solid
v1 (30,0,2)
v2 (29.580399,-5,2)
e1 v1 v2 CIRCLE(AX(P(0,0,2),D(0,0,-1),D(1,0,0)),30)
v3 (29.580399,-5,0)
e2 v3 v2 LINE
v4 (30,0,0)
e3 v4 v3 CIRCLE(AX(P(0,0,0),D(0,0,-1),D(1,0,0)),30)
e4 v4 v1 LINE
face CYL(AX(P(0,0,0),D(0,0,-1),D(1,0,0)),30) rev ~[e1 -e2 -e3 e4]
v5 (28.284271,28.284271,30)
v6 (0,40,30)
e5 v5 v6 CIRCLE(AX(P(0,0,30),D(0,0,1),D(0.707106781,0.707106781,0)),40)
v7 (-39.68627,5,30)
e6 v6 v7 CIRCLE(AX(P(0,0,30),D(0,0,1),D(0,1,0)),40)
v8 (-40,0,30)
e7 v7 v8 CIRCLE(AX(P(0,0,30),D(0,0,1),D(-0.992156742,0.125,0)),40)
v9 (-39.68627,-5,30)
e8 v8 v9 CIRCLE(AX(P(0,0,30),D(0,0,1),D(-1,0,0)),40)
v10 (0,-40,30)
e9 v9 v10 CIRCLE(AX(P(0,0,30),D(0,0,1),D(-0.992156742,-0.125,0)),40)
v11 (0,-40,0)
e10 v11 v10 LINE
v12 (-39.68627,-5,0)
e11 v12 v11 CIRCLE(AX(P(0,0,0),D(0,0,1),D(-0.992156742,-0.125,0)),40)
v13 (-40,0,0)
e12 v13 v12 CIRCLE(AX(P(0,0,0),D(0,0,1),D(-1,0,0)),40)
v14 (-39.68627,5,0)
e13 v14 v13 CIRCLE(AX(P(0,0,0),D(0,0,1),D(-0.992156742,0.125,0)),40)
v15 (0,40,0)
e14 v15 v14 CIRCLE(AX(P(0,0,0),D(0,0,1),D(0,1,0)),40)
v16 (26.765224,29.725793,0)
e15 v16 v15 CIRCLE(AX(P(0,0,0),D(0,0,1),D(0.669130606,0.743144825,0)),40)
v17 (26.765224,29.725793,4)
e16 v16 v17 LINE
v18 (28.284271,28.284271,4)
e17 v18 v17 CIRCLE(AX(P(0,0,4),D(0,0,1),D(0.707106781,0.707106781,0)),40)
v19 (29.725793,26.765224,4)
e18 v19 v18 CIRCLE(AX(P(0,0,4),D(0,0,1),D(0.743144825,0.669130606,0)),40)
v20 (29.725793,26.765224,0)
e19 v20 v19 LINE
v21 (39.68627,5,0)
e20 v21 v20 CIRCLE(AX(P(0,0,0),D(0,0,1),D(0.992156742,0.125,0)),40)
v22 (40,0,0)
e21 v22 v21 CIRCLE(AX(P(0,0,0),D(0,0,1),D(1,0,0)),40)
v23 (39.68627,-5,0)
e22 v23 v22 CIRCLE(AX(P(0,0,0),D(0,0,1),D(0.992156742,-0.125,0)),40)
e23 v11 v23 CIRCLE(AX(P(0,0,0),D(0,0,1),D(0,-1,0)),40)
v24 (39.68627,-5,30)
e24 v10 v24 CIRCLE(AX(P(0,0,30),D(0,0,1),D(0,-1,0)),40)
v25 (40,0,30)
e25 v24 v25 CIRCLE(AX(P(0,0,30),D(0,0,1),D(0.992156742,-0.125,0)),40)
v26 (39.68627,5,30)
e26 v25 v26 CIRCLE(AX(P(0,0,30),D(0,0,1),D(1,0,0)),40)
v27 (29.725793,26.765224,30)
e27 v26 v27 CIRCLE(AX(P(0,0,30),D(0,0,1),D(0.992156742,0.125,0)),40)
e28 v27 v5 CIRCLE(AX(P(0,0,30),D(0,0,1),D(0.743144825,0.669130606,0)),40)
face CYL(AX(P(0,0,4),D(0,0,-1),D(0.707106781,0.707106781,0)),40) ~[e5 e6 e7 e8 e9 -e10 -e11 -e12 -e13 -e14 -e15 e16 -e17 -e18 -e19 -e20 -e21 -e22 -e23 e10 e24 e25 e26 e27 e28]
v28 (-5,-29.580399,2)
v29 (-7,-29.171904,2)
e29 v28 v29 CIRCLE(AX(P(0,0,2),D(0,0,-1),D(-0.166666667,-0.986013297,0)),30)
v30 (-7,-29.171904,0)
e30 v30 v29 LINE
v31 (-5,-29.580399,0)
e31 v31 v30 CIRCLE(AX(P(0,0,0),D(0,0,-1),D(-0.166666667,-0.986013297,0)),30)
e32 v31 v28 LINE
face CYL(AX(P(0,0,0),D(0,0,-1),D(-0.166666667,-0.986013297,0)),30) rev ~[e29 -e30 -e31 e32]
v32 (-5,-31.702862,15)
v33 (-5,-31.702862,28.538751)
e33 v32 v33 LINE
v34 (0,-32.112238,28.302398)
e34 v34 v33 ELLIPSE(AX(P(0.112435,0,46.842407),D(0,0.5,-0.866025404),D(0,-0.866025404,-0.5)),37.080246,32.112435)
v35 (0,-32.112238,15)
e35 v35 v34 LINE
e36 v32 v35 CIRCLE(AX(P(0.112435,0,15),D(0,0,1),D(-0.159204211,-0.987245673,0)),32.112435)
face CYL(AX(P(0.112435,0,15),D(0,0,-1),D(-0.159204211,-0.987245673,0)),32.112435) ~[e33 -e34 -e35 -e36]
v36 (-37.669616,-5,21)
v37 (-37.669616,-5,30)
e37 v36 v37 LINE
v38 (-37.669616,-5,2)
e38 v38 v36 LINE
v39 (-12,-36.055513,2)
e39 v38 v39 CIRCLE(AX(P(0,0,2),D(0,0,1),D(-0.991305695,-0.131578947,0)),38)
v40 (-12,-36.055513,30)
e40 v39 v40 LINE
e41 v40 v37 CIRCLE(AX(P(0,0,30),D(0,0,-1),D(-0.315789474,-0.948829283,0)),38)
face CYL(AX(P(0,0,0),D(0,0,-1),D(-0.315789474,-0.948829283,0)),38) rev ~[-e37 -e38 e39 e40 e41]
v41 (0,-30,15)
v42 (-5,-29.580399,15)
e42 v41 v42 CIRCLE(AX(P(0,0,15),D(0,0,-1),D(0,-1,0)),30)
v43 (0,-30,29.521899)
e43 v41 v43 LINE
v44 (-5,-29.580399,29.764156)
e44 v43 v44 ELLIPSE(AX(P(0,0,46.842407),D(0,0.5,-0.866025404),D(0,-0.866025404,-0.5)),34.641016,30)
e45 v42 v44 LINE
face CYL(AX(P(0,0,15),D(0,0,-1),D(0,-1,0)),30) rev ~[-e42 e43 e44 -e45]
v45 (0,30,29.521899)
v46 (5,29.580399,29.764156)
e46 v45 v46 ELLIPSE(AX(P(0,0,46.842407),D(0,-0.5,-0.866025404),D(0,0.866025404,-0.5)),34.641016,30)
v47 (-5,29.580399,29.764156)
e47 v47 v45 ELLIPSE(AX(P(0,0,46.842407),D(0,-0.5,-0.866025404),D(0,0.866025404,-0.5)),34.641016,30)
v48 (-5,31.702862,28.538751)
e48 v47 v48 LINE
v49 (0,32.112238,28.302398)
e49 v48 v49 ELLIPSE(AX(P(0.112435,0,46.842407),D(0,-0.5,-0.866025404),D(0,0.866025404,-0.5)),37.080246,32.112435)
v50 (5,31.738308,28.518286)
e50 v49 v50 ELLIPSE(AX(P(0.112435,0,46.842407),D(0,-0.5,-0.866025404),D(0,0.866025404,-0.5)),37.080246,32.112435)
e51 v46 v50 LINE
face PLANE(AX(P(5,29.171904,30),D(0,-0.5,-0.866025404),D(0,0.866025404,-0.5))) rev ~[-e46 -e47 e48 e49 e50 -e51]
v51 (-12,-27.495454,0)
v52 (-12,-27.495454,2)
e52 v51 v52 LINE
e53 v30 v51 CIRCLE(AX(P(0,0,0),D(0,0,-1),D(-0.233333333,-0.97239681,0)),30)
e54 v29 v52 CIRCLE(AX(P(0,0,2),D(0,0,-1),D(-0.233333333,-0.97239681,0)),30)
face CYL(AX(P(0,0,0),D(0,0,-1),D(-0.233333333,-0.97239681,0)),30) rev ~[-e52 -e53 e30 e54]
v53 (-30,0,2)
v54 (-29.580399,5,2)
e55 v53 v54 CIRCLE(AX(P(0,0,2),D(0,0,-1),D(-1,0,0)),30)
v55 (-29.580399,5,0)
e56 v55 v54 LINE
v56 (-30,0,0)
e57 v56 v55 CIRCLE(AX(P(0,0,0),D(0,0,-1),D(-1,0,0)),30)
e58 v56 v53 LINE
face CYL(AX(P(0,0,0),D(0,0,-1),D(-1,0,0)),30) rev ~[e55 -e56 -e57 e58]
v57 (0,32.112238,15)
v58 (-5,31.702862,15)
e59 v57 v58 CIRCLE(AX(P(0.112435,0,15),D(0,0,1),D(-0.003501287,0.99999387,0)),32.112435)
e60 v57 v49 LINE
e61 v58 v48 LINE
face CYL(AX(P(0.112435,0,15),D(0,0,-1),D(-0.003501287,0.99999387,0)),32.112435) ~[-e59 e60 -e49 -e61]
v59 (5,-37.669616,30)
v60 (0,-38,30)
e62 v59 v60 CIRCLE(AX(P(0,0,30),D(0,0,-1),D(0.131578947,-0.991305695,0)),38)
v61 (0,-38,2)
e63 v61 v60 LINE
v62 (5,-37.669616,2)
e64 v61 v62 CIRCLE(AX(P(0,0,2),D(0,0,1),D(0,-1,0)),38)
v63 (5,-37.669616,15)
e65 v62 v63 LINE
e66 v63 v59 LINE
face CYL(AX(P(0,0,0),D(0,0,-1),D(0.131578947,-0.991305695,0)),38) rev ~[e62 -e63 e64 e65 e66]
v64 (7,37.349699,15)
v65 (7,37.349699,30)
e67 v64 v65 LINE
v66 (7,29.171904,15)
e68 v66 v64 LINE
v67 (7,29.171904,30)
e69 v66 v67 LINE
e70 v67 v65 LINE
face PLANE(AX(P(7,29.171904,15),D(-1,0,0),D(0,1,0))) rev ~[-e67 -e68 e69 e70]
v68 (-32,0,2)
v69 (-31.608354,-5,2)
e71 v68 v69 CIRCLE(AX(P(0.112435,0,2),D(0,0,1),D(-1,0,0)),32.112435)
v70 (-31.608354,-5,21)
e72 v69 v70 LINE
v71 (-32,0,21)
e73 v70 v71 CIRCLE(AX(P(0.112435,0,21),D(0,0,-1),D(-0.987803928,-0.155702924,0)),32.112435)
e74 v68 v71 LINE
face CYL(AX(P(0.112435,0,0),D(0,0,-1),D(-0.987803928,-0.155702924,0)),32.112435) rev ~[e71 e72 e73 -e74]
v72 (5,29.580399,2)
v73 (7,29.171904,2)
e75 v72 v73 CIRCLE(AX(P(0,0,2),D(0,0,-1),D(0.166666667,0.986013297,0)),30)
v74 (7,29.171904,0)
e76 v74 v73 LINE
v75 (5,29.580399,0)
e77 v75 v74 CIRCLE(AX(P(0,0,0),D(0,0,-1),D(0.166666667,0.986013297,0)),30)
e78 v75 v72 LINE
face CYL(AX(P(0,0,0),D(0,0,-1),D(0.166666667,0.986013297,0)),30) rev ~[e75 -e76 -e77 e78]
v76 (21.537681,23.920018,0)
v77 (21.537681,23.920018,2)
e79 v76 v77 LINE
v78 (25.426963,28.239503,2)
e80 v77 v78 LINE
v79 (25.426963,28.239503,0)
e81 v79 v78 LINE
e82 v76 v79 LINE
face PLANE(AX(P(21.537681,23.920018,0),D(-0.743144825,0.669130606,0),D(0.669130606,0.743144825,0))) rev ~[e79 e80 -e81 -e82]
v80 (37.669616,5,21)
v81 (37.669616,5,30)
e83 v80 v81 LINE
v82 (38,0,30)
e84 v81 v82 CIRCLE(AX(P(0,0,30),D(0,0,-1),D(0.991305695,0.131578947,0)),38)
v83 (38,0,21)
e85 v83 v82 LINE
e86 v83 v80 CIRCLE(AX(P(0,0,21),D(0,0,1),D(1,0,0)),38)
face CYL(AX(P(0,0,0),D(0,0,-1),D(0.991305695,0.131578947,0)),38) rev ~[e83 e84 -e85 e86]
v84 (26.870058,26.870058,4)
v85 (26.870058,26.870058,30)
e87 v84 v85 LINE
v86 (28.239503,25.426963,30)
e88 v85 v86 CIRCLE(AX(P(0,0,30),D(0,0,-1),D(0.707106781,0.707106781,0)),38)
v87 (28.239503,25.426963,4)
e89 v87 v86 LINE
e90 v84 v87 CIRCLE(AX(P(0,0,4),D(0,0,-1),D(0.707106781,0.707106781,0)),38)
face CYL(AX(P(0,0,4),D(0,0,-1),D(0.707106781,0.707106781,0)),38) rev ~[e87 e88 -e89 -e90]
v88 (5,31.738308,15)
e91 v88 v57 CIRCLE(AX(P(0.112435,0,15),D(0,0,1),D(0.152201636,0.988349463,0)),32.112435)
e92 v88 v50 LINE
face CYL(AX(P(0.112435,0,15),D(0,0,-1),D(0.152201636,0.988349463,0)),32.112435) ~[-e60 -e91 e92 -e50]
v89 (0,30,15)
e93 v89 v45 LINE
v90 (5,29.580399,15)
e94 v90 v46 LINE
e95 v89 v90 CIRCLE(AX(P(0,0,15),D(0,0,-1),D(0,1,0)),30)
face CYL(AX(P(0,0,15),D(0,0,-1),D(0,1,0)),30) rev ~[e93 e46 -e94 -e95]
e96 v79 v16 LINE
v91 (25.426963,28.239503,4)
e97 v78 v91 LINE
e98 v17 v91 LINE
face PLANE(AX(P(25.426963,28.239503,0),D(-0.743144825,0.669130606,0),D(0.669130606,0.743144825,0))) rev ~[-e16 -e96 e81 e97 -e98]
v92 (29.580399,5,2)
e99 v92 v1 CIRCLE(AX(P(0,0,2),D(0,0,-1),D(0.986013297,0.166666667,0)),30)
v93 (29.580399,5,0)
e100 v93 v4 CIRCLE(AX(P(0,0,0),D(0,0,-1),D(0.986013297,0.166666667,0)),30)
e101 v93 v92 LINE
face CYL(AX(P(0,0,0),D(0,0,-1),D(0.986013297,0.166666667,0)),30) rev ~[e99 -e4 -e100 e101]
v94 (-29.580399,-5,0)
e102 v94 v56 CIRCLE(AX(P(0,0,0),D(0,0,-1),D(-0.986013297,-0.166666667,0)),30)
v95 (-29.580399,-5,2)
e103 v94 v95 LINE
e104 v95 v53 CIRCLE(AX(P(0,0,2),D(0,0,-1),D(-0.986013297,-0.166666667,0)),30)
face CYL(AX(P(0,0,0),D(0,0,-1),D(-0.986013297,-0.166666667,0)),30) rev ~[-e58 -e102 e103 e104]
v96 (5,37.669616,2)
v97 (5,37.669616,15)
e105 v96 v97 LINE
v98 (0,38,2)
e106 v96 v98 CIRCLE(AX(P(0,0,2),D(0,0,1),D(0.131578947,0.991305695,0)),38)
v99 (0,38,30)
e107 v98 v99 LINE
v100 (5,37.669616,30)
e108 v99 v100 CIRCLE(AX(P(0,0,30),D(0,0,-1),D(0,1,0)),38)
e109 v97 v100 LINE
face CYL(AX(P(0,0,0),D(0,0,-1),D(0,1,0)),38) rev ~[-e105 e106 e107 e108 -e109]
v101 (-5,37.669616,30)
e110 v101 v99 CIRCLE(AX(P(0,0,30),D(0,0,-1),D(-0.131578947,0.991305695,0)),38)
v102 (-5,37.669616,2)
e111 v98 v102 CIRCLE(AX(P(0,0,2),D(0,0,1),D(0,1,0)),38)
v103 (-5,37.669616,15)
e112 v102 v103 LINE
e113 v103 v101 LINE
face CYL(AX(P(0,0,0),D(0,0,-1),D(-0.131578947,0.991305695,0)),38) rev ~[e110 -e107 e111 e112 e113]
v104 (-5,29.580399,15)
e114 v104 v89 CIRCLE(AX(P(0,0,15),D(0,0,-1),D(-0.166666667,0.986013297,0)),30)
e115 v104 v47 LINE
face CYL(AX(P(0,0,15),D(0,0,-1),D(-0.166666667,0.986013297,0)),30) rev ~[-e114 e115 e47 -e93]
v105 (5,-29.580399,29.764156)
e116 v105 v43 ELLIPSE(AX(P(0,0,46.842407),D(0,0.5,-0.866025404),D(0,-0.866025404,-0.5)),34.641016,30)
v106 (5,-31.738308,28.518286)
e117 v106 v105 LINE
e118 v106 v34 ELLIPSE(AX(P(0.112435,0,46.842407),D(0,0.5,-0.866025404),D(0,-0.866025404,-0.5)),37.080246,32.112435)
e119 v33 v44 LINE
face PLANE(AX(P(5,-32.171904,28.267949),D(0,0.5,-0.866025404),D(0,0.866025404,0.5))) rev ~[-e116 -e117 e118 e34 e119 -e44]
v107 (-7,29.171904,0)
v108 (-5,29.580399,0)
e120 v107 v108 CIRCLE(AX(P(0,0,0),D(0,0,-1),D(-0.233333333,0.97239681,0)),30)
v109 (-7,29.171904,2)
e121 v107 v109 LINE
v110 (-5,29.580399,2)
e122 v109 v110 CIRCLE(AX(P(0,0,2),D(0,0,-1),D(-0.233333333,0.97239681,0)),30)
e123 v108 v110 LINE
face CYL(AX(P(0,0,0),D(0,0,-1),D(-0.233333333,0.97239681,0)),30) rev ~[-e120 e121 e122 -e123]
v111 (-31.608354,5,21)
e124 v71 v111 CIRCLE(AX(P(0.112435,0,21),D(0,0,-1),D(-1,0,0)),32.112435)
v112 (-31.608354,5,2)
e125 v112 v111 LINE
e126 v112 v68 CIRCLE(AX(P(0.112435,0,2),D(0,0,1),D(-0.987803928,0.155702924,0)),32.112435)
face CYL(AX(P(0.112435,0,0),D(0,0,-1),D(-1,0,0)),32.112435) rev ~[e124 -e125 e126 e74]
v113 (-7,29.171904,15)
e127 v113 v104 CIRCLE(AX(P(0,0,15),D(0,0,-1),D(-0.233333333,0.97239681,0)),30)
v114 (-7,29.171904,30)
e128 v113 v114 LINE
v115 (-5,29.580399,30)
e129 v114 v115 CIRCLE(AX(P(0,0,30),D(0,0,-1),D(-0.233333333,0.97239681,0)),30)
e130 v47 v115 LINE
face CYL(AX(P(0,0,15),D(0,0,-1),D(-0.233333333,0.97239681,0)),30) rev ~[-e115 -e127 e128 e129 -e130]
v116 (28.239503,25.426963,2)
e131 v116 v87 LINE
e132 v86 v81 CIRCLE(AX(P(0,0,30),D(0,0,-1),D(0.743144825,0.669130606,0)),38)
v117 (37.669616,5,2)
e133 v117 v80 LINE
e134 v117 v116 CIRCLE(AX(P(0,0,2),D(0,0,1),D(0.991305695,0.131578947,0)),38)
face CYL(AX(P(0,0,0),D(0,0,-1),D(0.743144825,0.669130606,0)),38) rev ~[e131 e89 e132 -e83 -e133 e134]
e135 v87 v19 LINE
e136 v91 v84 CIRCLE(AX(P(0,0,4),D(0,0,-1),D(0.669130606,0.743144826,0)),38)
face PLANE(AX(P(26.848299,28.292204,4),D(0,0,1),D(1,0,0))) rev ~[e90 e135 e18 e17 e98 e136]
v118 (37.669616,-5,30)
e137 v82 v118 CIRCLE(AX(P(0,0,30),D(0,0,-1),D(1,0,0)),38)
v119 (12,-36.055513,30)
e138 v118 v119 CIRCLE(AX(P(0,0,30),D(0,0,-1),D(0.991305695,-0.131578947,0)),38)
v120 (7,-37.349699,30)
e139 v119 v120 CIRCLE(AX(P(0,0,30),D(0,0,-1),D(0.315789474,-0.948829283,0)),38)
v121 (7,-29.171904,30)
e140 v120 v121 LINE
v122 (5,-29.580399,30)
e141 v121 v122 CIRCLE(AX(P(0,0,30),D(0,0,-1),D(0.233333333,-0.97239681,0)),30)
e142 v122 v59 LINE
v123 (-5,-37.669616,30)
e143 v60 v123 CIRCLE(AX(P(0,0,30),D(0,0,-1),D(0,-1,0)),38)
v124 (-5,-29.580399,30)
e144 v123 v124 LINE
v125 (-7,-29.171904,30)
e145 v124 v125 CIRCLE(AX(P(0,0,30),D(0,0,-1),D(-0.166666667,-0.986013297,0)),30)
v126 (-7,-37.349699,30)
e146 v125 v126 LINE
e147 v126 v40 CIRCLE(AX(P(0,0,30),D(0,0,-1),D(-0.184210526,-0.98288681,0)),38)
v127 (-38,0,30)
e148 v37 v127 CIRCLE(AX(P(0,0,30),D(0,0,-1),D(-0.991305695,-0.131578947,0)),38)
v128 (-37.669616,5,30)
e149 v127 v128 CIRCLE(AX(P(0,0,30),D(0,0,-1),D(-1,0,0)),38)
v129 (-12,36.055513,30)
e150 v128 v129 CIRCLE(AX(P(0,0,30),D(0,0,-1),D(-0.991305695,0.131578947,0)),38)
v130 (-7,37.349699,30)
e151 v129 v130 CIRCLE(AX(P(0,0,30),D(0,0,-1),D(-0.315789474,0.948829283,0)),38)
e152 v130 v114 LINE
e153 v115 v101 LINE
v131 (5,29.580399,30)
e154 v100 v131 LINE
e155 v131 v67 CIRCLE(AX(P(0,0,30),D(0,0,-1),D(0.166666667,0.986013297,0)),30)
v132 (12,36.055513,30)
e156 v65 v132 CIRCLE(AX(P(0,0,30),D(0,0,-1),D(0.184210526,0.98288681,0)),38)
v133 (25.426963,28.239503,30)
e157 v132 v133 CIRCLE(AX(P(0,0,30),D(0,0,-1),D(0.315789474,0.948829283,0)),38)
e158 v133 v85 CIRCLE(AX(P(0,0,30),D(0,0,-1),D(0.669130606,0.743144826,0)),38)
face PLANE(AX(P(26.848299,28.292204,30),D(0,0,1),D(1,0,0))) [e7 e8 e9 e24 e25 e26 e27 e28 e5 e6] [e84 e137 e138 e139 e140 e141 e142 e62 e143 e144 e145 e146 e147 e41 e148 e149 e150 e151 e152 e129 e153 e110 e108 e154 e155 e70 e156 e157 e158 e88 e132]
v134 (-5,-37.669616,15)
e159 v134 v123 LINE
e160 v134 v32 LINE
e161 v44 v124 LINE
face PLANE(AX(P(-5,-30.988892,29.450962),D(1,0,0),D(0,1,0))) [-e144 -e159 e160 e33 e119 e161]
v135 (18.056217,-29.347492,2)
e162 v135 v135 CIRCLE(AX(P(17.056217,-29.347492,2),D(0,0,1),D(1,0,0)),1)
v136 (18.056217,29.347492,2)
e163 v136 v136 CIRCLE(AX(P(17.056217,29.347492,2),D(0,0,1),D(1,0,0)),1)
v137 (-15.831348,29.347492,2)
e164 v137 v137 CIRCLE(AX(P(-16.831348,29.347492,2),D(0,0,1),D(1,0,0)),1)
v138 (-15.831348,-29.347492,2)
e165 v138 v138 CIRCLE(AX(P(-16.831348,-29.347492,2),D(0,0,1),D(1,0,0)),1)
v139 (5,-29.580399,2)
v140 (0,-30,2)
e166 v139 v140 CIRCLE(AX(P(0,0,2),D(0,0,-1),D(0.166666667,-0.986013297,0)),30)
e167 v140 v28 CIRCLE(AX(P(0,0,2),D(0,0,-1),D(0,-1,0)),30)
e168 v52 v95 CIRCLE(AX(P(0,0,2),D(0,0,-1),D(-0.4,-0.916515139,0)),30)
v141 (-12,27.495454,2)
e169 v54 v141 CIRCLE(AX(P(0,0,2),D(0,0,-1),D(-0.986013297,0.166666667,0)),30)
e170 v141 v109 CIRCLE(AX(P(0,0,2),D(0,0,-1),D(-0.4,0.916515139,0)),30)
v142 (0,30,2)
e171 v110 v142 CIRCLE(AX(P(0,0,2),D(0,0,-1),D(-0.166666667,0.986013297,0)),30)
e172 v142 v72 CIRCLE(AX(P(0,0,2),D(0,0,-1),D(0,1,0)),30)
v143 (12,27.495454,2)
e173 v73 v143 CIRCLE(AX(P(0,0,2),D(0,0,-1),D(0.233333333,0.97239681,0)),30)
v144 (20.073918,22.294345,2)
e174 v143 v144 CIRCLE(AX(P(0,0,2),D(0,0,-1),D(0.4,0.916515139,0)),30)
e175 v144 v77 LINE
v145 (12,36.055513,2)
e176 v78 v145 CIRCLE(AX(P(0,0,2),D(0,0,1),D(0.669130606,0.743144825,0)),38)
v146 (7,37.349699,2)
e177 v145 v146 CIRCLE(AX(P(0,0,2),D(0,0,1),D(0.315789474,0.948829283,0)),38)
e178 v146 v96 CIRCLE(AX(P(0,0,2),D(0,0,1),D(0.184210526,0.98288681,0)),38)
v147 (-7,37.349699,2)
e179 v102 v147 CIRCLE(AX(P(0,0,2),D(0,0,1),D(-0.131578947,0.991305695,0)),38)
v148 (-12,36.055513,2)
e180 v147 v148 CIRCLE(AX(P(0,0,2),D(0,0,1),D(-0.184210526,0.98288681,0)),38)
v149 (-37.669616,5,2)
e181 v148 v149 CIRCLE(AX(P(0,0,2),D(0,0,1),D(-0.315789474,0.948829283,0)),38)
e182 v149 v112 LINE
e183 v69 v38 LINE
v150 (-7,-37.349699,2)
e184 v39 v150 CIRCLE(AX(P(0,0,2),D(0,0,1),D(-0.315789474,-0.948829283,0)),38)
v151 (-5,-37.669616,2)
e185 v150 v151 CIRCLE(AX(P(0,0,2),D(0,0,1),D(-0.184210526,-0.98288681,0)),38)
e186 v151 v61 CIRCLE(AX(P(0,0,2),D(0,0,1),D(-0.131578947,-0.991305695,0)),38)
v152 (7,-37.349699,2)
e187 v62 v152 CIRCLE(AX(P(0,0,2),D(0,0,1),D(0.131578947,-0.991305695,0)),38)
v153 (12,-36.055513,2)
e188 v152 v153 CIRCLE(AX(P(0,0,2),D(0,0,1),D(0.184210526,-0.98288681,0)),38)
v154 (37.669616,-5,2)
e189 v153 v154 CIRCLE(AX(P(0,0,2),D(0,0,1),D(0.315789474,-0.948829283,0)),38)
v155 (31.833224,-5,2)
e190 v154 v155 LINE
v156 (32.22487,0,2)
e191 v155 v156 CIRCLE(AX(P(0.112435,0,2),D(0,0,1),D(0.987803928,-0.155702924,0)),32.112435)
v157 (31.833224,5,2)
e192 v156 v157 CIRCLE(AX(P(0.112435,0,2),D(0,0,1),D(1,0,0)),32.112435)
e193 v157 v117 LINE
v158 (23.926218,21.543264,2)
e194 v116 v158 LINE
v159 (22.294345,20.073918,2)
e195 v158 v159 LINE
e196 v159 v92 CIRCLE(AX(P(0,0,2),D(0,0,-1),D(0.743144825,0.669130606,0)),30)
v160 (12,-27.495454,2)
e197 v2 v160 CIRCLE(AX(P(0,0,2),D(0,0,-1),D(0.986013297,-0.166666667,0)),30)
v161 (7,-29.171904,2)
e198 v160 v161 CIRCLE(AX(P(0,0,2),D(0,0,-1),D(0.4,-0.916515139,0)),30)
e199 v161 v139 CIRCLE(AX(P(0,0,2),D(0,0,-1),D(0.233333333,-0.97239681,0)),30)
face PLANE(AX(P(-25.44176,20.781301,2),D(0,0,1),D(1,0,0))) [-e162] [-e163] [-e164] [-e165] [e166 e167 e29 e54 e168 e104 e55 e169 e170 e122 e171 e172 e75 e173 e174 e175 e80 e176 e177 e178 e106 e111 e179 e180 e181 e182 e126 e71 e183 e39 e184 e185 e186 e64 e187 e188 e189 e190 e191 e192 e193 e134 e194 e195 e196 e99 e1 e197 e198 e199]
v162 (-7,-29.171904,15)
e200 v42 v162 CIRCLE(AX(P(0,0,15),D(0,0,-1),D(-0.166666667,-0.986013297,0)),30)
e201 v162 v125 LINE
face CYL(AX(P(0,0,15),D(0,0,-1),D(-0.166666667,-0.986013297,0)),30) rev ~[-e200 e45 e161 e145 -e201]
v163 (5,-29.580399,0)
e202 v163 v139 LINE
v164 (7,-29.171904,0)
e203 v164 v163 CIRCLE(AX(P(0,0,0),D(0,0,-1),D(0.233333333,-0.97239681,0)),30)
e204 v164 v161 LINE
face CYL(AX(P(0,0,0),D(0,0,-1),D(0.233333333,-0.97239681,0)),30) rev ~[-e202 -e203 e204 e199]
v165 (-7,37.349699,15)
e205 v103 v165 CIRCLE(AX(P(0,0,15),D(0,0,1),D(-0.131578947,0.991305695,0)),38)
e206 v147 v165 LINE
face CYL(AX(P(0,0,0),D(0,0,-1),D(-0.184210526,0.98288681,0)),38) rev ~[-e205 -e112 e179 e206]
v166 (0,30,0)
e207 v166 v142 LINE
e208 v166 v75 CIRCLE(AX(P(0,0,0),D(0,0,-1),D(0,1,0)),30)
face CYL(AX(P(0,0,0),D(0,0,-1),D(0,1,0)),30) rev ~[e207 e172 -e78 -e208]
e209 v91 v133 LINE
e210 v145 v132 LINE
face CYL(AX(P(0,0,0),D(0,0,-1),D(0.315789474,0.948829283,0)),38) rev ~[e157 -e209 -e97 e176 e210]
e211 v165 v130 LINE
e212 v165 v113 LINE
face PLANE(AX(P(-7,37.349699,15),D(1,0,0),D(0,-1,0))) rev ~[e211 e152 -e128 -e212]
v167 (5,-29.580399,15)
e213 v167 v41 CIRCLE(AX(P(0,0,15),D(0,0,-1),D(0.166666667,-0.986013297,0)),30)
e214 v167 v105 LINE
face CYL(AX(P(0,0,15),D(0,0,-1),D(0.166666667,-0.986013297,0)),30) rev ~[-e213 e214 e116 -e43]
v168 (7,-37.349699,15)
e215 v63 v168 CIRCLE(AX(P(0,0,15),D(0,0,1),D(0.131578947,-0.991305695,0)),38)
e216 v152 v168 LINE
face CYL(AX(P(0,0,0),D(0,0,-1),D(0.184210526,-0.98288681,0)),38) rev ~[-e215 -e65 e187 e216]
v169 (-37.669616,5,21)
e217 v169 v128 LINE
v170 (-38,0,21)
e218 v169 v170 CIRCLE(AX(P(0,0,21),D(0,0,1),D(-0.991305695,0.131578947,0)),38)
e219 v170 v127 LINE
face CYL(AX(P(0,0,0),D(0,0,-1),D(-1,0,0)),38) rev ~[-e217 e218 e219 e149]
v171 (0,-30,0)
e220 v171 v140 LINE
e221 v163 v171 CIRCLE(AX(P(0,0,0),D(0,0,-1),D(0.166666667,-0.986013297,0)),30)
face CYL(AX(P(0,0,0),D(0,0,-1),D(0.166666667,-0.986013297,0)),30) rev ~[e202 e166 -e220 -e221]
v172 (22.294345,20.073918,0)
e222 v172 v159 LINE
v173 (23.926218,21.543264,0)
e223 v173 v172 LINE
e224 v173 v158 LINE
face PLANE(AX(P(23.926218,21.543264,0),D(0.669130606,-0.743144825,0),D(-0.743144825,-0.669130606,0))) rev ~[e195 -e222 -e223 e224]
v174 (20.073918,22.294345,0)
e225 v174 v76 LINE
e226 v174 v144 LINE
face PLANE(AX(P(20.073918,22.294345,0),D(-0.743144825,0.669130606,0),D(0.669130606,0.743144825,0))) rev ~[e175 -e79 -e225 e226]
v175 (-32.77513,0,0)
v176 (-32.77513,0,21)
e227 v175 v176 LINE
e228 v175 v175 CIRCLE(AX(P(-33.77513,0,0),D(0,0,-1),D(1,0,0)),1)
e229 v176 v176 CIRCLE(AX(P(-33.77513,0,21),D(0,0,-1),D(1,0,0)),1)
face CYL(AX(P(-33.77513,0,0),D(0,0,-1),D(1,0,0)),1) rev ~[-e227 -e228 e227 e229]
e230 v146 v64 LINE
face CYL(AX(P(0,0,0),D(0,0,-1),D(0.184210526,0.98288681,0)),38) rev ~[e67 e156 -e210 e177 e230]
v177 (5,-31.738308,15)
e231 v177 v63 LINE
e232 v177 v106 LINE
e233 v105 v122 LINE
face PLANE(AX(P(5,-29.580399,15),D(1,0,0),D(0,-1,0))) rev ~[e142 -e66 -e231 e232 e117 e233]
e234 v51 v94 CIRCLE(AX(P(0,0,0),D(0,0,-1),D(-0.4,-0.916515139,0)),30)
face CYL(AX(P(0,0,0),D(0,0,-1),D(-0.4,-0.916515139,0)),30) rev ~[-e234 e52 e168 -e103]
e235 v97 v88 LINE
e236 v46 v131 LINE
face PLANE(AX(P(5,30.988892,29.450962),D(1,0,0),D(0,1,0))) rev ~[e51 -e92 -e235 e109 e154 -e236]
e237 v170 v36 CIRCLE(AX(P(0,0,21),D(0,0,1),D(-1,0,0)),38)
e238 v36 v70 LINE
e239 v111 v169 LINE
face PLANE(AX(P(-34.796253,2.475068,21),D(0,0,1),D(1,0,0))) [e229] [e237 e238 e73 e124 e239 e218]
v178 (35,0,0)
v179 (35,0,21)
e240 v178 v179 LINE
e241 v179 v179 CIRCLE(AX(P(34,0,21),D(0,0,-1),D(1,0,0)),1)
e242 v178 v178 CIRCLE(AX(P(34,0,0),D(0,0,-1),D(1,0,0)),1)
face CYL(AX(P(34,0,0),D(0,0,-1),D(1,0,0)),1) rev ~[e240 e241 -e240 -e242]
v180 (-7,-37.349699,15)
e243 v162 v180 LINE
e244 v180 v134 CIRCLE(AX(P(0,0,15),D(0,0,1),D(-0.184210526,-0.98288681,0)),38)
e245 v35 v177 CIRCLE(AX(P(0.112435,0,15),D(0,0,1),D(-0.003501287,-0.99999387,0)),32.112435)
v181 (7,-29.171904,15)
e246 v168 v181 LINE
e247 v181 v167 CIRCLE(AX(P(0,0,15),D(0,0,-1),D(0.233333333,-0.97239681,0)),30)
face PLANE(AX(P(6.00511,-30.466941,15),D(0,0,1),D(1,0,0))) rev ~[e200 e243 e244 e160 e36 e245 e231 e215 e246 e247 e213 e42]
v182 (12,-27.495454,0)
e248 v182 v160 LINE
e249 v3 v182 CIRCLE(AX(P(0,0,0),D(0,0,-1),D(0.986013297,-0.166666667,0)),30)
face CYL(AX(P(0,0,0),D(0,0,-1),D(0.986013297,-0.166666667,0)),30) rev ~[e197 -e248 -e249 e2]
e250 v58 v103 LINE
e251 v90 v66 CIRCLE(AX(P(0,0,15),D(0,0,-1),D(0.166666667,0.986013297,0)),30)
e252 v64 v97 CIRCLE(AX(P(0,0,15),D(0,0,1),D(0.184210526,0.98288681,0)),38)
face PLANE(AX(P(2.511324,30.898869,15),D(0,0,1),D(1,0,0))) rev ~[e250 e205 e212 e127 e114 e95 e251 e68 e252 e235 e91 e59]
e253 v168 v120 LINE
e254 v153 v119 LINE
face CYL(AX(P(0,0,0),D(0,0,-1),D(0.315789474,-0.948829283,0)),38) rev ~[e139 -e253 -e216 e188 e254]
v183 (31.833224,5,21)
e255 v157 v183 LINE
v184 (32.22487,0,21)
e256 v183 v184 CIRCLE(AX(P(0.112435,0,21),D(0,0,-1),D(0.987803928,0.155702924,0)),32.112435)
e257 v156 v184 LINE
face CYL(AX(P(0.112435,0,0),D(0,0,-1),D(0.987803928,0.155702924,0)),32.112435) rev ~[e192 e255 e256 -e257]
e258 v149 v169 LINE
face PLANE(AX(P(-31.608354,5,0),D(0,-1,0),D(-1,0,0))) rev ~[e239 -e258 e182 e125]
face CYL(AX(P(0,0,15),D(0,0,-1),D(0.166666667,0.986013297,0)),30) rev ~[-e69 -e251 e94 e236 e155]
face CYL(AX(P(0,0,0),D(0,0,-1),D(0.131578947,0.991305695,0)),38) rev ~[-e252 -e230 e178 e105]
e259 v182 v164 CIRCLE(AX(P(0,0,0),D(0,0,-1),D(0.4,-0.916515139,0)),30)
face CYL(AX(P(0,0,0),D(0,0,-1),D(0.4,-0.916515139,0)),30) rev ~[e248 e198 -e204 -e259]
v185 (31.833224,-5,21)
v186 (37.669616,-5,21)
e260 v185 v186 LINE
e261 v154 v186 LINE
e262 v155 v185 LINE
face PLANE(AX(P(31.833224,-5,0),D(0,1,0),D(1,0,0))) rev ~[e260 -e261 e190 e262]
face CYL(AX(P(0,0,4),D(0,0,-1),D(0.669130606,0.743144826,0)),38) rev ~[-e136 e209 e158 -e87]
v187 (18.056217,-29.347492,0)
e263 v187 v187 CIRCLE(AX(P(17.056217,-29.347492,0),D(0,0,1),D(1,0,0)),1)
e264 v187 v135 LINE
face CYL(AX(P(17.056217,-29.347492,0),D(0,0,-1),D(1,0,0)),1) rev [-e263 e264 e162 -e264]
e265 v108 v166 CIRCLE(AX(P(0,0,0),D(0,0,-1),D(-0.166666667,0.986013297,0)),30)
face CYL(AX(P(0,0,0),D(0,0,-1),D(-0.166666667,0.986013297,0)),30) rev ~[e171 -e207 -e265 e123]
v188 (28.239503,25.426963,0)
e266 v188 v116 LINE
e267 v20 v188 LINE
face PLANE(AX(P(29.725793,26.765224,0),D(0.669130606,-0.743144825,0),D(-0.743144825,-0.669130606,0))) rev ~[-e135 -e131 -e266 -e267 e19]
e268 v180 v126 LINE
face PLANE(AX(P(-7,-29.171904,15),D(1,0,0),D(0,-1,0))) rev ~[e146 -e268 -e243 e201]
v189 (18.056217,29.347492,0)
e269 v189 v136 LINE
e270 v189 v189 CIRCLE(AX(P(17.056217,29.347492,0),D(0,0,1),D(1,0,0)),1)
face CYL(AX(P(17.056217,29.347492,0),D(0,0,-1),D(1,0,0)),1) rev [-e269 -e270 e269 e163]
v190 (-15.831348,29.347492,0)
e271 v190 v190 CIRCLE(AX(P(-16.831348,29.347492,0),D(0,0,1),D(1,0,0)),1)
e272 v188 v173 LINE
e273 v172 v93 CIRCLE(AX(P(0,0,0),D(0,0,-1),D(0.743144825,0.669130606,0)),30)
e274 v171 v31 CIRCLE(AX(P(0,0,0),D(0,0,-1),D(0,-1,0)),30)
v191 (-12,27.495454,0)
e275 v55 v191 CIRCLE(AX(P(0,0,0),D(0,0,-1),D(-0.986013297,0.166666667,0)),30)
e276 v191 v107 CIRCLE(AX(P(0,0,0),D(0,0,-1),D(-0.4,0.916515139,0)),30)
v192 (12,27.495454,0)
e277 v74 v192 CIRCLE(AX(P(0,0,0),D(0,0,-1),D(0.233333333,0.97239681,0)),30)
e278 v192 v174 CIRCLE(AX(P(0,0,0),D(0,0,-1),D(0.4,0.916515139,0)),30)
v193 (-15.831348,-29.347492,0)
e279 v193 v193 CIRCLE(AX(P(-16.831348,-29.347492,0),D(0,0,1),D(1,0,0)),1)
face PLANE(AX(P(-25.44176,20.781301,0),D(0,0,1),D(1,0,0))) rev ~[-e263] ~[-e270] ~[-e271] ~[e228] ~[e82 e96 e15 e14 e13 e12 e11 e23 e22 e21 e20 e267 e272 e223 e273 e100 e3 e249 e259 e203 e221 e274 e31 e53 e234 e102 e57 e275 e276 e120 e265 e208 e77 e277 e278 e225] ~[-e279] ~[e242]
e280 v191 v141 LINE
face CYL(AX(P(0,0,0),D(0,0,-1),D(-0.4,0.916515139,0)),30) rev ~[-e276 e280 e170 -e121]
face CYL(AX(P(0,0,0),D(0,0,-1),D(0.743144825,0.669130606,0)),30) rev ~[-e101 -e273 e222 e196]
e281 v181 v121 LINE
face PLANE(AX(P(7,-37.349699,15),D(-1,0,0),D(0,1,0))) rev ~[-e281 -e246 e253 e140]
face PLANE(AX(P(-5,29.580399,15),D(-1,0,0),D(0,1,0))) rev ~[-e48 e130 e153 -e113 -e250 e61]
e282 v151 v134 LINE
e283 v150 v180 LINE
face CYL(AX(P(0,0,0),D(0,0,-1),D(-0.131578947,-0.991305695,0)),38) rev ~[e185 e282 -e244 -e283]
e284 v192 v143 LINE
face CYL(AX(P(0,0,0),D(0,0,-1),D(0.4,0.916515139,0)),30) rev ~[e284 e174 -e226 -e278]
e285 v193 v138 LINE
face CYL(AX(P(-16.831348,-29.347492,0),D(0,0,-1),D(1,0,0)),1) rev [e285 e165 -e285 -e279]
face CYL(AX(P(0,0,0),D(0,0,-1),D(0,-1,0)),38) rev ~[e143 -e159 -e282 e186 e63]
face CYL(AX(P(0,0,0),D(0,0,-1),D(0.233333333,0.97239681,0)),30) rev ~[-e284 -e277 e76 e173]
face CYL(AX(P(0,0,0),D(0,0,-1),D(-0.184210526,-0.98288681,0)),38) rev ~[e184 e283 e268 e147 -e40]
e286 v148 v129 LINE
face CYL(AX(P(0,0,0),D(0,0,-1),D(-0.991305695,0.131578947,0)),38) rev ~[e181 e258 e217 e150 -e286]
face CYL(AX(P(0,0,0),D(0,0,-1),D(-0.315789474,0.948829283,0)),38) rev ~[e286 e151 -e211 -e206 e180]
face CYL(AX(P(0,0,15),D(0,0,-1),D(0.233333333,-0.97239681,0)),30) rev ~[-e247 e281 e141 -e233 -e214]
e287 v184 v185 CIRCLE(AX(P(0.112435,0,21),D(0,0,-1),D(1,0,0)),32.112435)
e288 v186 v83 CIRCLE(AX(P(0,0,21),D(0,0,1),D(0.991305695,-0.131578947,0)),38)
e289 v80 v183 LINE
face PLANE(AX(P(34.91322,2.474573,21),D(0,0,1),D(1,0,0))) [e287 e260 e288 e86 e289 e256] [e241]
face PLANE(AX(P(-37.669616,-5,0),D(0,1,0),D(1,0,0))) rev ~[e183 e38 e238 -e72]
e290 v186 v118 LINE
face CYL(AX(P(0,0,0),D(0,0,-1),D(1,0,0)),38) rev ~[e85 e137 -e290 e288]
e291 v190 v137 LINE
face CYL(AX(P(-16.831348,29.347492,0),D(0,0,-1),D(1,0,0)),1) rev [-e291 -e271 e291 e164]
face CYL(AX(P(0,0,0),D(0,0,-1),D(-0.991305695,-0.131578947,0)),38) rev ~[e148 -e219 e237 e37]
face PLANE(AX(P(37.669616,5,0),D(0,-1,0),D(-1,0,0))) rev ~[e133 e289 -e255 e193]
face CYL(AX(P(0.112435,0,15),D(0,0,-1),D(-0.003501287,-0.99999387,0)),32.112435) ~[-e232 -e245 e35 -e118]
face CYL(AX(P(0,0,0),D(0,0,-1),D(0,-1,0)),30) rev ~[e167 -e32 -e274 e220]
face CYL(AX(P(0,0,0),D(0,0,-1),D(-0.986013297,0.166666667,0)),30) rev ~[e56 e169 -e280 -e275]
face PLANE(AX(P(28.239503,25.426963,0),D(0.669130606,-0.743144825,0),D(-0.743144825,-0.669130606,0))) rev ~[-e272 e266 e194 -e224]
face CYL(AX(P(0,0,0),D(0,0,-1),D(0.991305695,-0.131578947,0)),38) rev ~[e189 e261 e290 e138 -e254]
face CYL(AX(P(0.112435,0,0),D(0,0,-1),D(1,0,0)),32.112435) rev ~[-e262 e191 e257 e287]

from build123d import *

# Parameters (mm, degrees)
F1_DEPTH = 30
F2_DEPTH = 21
F3_START = 15
F3_DEPTH = 15
F0_R     = 1
F4_DEPTH = 2
F5_START = 15
F5_DEPTH = 15
F6_START = 4
F6_DEPTH = 26
F8_START = -2
F8_DEPTH = 10


with BuildPart() as f1:
    # F0 (on Top) → F1 (new body)
    with BuildSketch(Plane.XY):
        with BuildLine():
            ThreePointArc((-5, 37.6696164037), (-2.5054517218, 37.917314141), (0, 38))
            Line((0, 38), (0, 40))
            ThreePointArc((0, 40), (-26.4575131106, 30), (-39.686269666, 5))
            Line((-39.686269666, 5), (-37.6696164037, 5))
            ThreePointArc((-37.6696164037, 5), (-29.2895700982, 24.2099377006), (-12, 36.0555127546))
            ThreePointArc((-12, 36.0555127546), (-9.5220128847, 36.7876510615), (-7, 37.349698794))
            ThreePointArc((-7, 37.349698794), (-6.0021318562, 37.5229851315), (-5, 37.6696164037))
        make_face()
        with BuildLine():
            Line((-37.6696164037, 5), (-39.686269666, 5))
            ThreePointArc((-39.686269666, 5), (-39.9214903695, 2.5049165017), (-40, 0))
            Line((-40, 0), (-38, 0))
            ThreePointArc((-38, 0), (-37.917314141, 2.5054517218), (-37.6696164037, 5))
        make_face()
        with BuildLine():
            Line((-38, 0), (-40, 0))
            ThreePointArc((-40, 0), (-39.9214903695, -2.5049165017), (-39.686269666, -5))
            Line((-39.686269666, -5), (-37.6696164037, -5))
            ThreePointArc((-37.6696164037, -5), (-37.917314141, -2.5054517218), (-38, 0))
        make_face()
        with BuildLine():
            Line((-37.6696164037, -5), (-39.686269666, -5))
            ThreePointArc((-39.686269666, -5), (-26.4575131106, -30), (0, -40))
            Line((0, -40), (0, -38))
            ThreePointArc((0, -38), (-2.5054517218, -37.917314141), (-5, -37.6696164037))
            ThreePointArc((-5, -37.6696164037), (-6.0021318562, -37.5229851315), (-7, -37.349698794))
            ThreePointArc((-7, -37.349698794), (-9.5220128847, -36.7876510615), (-12, -36.0555127546))
            ThreePointArc((-12, -36.0555127546), (-29.2895700982, -24.2099377006), (-37.6696164037, -5))
        make_face()
        with BuildLine():
            Line((39.686269666, -5), (37.6696164037, -5))
            ThreePointArc((37.6696164037, -5), (29.2895700982, -24.2099377006), (12, -36.0555127546))
            ThreePointArc((12, -36.0555127546), (9.5220128847, -36.7876510615), (7, -37.349698794))
            ThreePointArc((7, -37.349698794), (6.0021318562, -37.5229851315), (5, -37.6696164037))
            ThreePointArc((5, -37.6696164037), (2.5054517218, -37.917314141), (0, -38))
            Line((0, -38), (0, -40))
            ThreePointArc((0, -40), (26.4575131106, -30), (39.686269666, -5))
        make_face()
        with BuildLine():
            Line((40, 0), (38, 0))
            ThreePointArc((38, 0), (37.917314141, -2.5054517218), (37.6696164037, -5))
            Line((37.6696164037, -5), (39.686269666, -5))
            ThreePointArc((39.686269666, -5), (39.9214903695, -2.5049165017), (40, 0))
        make_face()
        with BuildLine():
            Line((39.686269666, 5), (37.6696164037, 5))
            ThreePointArc((37.6696164037, 5), (37.917314141, 2.5054517218), (38, 0))
            Line((38, 0), (40, 0))
            ThreePointArc((40, 0), (39.9214903695, 2.5049165017), (39.686269666, 5))
        make_face()
        with BuildLine():
            Line((29.7257930191, 26.7652242544), (28.2395033681, 25.4269630416))
            ThreePointArc((28.2395033681, 25.4269630416), (34.5009887112, 15.927390808), (37.6696164037, 5))
            Line((37.6696164037, 5), (39.686269666, 5))
            ThreePointArc((39.686269666, 5), (36.372240215, 16.6451236625), (29.7257930191, 26.7652242544))
        make_face()
        with BuildLine():
            ThreePointArc((7, 37.349698794), (9.5220128847, 36.7876510615), (12, 36.0555127546))
            ThreePointArc((12, 36.0555127546), (19.1171883736, 32.8410278263), (25.4269630416, 28.2395033681))
            Line((25.4269630416, 28.2395033681), (26.7652242544, 29.7257930191))
            ThreePointArc((26.7652242544, 29.7257930191), (14.3347179818, 37.3432170599), (0, 40))
            Line((0, 40), (0, 38))
            ThreePointArc((0, 38), (2.5054517218, 37.917314141), (5, 37.6696164037))
            ThreePointArc((5, 37.6696164037), (6.0021318562, 37.5229851315), (7, 37.349698794))
        make_face()
    extrude(amount=F1_DEPTH)

    # F0 (on Top) → F2 (join)
    with BuildSketch(Plane.XY):
        with BuildLine():
            Line((-31.6083544215, 5), (-37.6696164037, 5))
            ThreePointArc((-37.6696164037, 5), (-37.917314141, 2.5054517218), (-38, 0))
            Line((-38, 0), (-34.7751302719, 0))
            ThreePointArc((-34.7751302719, 0), (-33.7751302719, 1), (-32.7751302719, 0))
            Line((-32.7751302719, 0), (-32, 0))
            ThreePointArc((-32, 0), (-31.9019388817, 2.5076575852), (-31.6083544215, 5))
        make_face()
        with BuildLine():
            Line((-34.7751302719, 0), (-38, 0))
            ThreePointArc((-38, 0), (-37.917314141, -2.5054517218), (-37.6696164037, -5))
            Line((-37.6696164037, -5), (-31.6083544215, -5))
            ThreePointArc((-31.6083544215, -5), (-31.9019388817, -2.5076575852), (-32, 0))
            Line((-32, 0), (-32.7751302719, 0))
            ThreePointArc((-32.7751302719, 0), (-33.7751302719, -1), (-34.7751302719, 0))
        make_face()
        with BuildLine():
            ThreePointArc((38, 0), (37.917314141, 2.5054517218), (37.6696164037, 5))
            Line((37.6696164037, 5), (31.8332241496, 5))
            ThreePointArc((31.8332241496, 5), (32.1268086098, 2.5076575852), (32.2248697281, 0))
            Line((32.2248697281, 0), (33, 0))
            ThreePointArc((33, 0), (34, 1), (35, 0))
            Line((35, 0), (38, 0))
        make_face()
        with BuildLine():
            ThreePointArc((37.6696164037, -5), (37.917314141, -2.5054517218), (38, 0))
            Line((38, 0), (35, 0))
            ThreePointArc((35, 0), (34, -1), (33, 0))
            Line((33, 0), (32.2248697281, 0))
            ThreePointArc((32.2248697281, 0), (32.1268086098, -2.5076575852), (31.8332241496, -5))
            Line((31.8332241496, -5), (37.6696164037, -5))
        make_face()
    extrude(amount=F2_DEPTH)

    # F0 (on Top) → F3 (join)
    with BuildSketch(Plane.XY.offset(F3_START)):
        with BuildLine():
            Line((-5, 31.7028623733), (-5, 37.6696164037))
            ThreePointArc((-5, 37.6696164037), (-6.0021318562, 37.5229851315), (-7, 37.349698794))
            Line((-7, 37.349698794), (-7, 31.3148805395))
            ThreePointArc((-7, 31.3148805395), (-6.0030775792, 31.5247360093), (-5, 31.7028623733))
        make_face()
        with BuildLine():
            Line((-5, 29.5803989155), (-5, 31.7028623733))
            ThreePointArc((-5, 31.7028623733), (-6.0030775792, 31.5247360093), (-7, 31.3148805395))
            Line((-7, 31.3148805395), (-7, 29.1719042916))
            ThreePointArc((-7, 29.1719042916), (-6.0034754072, 29.3931672849), (-5, 29.5803989155))
        make_face()
        with BuildLine():
            Line((7, 29.1719042916), (7, 31.3651067174))
            ThreePointArc((7, 31.3651067174), (6.0029563169, 31.5675502678), (5, 31.7383077674))
            Line((5, 31.7383077674), (5, 29.5803989155))
            ThreePointArc((5, 29.5803989155), (6.0034754072, 29.3931672849), (7, 29.1719042916))
        make_face()
        with BuildLine():
            Line((7, 31.3651067174), (7, 37.349698794))
            ThreePointArc((7, 37.349698794), (6.0021318562, 37.5229851315), (5, 37.6696164037))
            Line((5, 37.6696164037), (5, 31.7383077674))
            ThreePointArc((5, 31.7383077674), (6.0029563169, 31.5675502678), (7, 31.3651067174))
        make_face()
        with BuildLine():
            ThreePointArc((7, -29.1719042916), (6.0034754072, -29.3931672849), (5, -29.5803989155))
            Line((5, -29.5803989155), (5, -31.7383077674))
            ThreePointArc((5, -31.7383077674), (6.0029563169, -31.5675502678), (7, -31.3651067174))
            Line((7, -31.3651067174), (7, -29.1719042916))
        make_face()
        with BuildLine():
            ThreePointArc((5, -37.6696164037), (6.0021318562, -37.5229851315), (7, -37.349698794))
            Line((7, -37.349698794), (7, -31.3651067174))
            ThreePointArc((7, -31.3651067174), (6.0029563169, -31.5675502678), (5, -31.7383077674))
            Line((5, -31.7383077674), (5, -37.6696164037))
        make_face()
        with BuildLine():
            Line((-5, -37.6696164037), (-5, -31.7028623733))
            ThreePointArc((-5, -31.7028623733), (-6.0030775792, -31.5247360093), (-7, -31.3148805395))
            Line((-7, -31.3148805395), (-7, -37.349698794))
            ThreePointArc((-7, -37.349698794), (-6.0021318562, -37.5229851315), (-5, -37.6696164037))
        make_face()
        with BuildLine():
            Line((-5, -31.7028623733), (-5, -29.5803989155))
            ThreePointArc((-5, -29.5803989155), (-6.0034754072, -29.3931672849), (-7, -29.1719042916))
            Line((-7, -29.1719042916), (-7, -31.3148805395))
            ThreePointArc((-7, -31.3148805395), (-6.0030775792, -31.5247360093), (-5, -31.7028623733))
        make_face()
    extrude(amount=F3_DEPTH)

    # F0 (on Top) → F4 (join)
    with BuildSketch(Plane.XY):
        with BuildLine():
            ThreePointArc((-12, 36.0555127546), (-29.2895700982, 24.2099377006), (-37.6696164037, 5))
            Line((-37.6696164037, 5), (-31.6083544215, 5))
            ThreePointArc((-31.6083544215, 5), (-25.0542292215, 19.9461147019), (-12, 29.7405009131))
            Line((-12, 29.7405009131), (-12, 36.0555127546))
        make_face()
        with Locations((-16.8313477039, 29.3474922801)):
            Circle(F0_R, mode=Mode.SUBTRACT)
        with BuildLine():
            Line((0, 30), (0, 32.1122380301))
            ThreePointArc((0, 32.1122380301), (-2.5080065159, 32.0053395525), (-5, 31.7028623733))
            Line((-5, 31.7028623733), (-5, 29.5803989155))
            ThreePointArc((-5, 29.5803989155), (-2.5087878084, 29.8949156836), (0, 30))
        make_face()
        with BuildLine():
            Line((0, 32.1122380301), (0, 38))
            ThreePointArc((0, 38), (-2.5054517218, 37.917314141), (-5, 37.6696164037))
            Line((-5, 37.6696164037), (-5, 31.7028623733))
            ThreePointArc((-5, 31.7028623733), (-2.5080065159, 32.0053395525), (0, 32.1122380301))
        make_face()
        with BuildLine():
            Line((5, 29.5803989155), (5, 31.7383077674))
            ThreePointArc((5, 31.7383077674), (2.5073092321, 32.0230081294), (0, 32.1122380301))
            Line((0, 32.1122380301), (0, 30))
            ThreePointArc((0, 30), (2.5087878084, 29.8949156836), (5, 29.5803989155))
        make_face()
        with BuildLine():
            Line((5, 31.7383077674), (5, 37.6696164037))
            ThreePointArc((5, 37.6696164037), (2.5054517218, 37.917314141), (0, 38))
            Line((0, 38), (0, 32.1122380301))
            ThreePointArc((0, 32.1122380301), (2.5073092321, 32.0230081294), (5, 31.7383077674))
        make_face()
        with BuildLine():
            ThreePointArc((25.4269630416, 28.2395033681), (19.1171883736, 32.8410278263), (12, 36.0555127546))
            Line((12, 36.0555127546), (12, 29.831095656))
            ThreePointArc((12, 29.831095656), (17.0290262302, 27.2953734074), (21.5376813852, 23.9200184868))
            Line((21.5376813852, 23.9200184868), (25.4269630416, 28.2395033681))
        make_face()
        with Locations((17.056217432, 29.3474922801)):
            Circle(F0_R, mode=Mode.SUBTRACT)
        with BuildLine():
            ThreePointArc((12, -36.0555127546), (29.2895700982, -24.2099377006), (37.6696164037, -5))
            Line((37.6696164037, -5), (31.8332241496, -5))
            ThreePointArc((31.8332241496, -5), (25.2036279745, -20.0409705651), (12, -29.831095656))
            Line((12, -29.831095656), (12, -36.0555127546))
        make_face()
        with Locations((17.056217432, -29.3474922801)):
            Circle(F0_R, mode=Mode.SUBTRACT)
        with BuildLine():
            ThreePointArc((5, -29.5803989155), (2.5087878084, -29.8949156836), (0, -30))
            Line((0, -30), (0, -32.1122380301))
            ThreePointArc((0, -32.1122380301), (2.5073092321, -32.0230081294), (5, -31.7383077674))
            Line((5, -31.7383077674), (5, -29.5803989155))
        make_face()
        with BuildLine():
            ThreePointArc((5, -31.7383077674), (2.5073092321, -32.0230081294), (0, -32.1122380301))
            Line((0, -32.1122380301), (0, -38))
            ThreePointArc((0, -38), (2.5054517218, -37.917314141), (5, -37.6696164037))
            Line((5, -37.6696164037), (5, -31.7383077674))
        make_face()
        with BuildLine():
            Line((0, -32.1122380301), (0, -30))
            ThreePointArc((0, -30), (-2.5087878084, -29.8949156836), (-5, -29.5803989155))
            Line((-5, -29.5803989155), (-5, -31.7028623733))
            ThreePointArc((-5, -31.7028623733), (-2.5080065159, -32.0053395525), (0, -32.1122380301))
        make_face()
        with BuildLine():
            Line((0, -38), (0, -32.1122380301))
            ThreePointArc((0, -32.1122380301), (-2.5080065159, -32.0053395525), (-5, -31.7028623733))
            Line((-5, -31.7028623733), (-5, -37.6696164037))
            ThreePointArc((-5, -37.6696164037), (-2.5054517218, -37.917314141), (0, -38))
        make_face()
        with BuildLine():
            Line((-31.6083544215, -5), (-37.6696164037, -5))
            ThreePointArc((-37.6696164037, -5), (-29.2895700982, -24.2099377006), (-12, -36.0555127546))
            Line((-12, -36.0555127546), (-12, -29.7405009131))
            ThreePointArc((-12, -29.7405009131), (-25.0542292215, -19.9461147019), (-31.6083544215, -5))
        make_face()
        with Locations((-16.8313477039, -29.3474922801)):
            Circle(F0_R, mode=Mode.SUBTRACT)
        with BuildLine():
            Line((-7, 29.1719042916), (-7, 31.3148805395))
            ThreePointArc((-7, 31.3148805395), (-9.5321787528, 30.6298857504), (-12, 29.7405009131))
            Line((-12, 29.7405009131), (-12, 27.4954541697))
            ThreePointArc((-12, 27.4954541697), (-9.5369083697, 28.4437581685), (-7, 29.1719042916))
        make_face()
        with BuildLine():
            Line((12, 27.4954541697), (12, 29.831095656))
            ThreePointArc((12, 29.831095656), (9.5312817503, 30.7000618278), (7, 31.3651067174))
            Line((7, 31.3651067174), (7, 29.1719042916))
            ThreePointArc((7, 29.1719042916), (9.5369083697, 28.4437581685), (12, 27.4954541697))
        make_face()
        with BuildLine():
            ThreePointArc((7, -31.3651067174), (9.5312817503, -30.7000618278), (12, -29.831095656))
            Line((12, -29.831095656), (12, -27.4954541697))
            ThreePointArc((12, -27.4954541697), (9.5369083697, -28.4437581685), (7, -29.1719042916))
            Line((7, -29.1719042916), (7, -31.3651067174))
        make_face()
        with BuildLine():
            ThreePointArc((-7, -29.1719042916), (-9.5369083697, -28.4437581685), (-12, -27.4954541697))
            Line((-12, -27.4954541697), (-12, -29.7405009131))
            ThreePointArc((-12, -29.7405009131), (-9.5321787528, -30.6298857504), (-7, -31.3148805395))
            Line((-7, -31.3148805395), (-7, -29.1719042916))
        make_face()
        with BuildLine():
            ThreePointArc((-30, 0), (-29.8949156836, 2.5087878084), (-29.5803989155, 5))
            Line((-29.5803989155, 5), (-31.6083544215, 5))
            ThreePointArc((-31.6083544215, 5), (-31.9019388817, 2.5076575852), (-32, 0))
            Line((-32, 0), (-30, 0))
        make_face()
        with BuildLine():
            ThreePointArc((-29.5803989155, -5), (-29.8949156836, -2.5087878084), (-30, 0))
            Line((-30, 0), (-32, 0))
            ThreePointArc((-32, 0), (-31.9019388817, -2.5076575852), (-31.6083544215, -5))
            Line((-31.6083544215, -5), (-29.5803989155, -5))
        make_face()
        with BuildLine():
            ThreePointArc((32.2248697281, 0), (32.1268086098, 2.5076575852), (31.8332241496, 5))
            Line((31.8332241496, 5), (29.5803989155, 5))
            ThreePointArc((29.5803989155, 5), (29.8949156836, 2.5087878084), (30, 0))
            Line((30, 0), (32.2248697281, 0))
        make_face()
        with BuildLine():
            ThreePointArc((31.8332241496, -5), (32.1268086098, -2.5076575852), (32.2248697281, 0))
            Line((32.2248697281, 0), (30, 0))
            ThreePointArc((30, 0), (29.8949156836, -2.5087878084), (29.5803989155, -5))
            Line((29.5803989155, -5), (31.8332241496, -5))
        make_face()
        with BuildLine():
            ThreePointArc((37.6696164037, 5), (34.5009887112, 15.927390808), (28.2395033681, 25.4269630416))
            Line((28.2395033681, 25.4269630416), (23.9262180635, 21.5432635092))
            ThreePointArc((23.9262180635, 21.5432635092), (29.0855616742, 13.8479744273), (31.8332241496, 5))
            Line((31.8332241496, 5), (37.6696164037, 5))
        make_face()
        with BuildLine():
            ThreePointArc((31.8332241496, 5), (29.0855616742, 13.8479744273), (23.9262180635, 21.5432635092))
            Line((23.9262180635, 21.5432635092), (22.2943447643, 20.0739181908))
            ThreePointArc((22.2943447643, 20.0739181908), (27.0102389913, 13.0555348275), (29.5803989155, 5))
            Line((29.5803989155, 5), (31.8332241496, 5))
        make_face()
        with BuildLine():
            Line((-5, -31.7028623733), (-5, -29.5803989155))
            ThreePointArc((-5, -29.5803989155), (-6.0034754072, -29.3931672849), (-7, -29.1719042916))
            Line((-7, -29.1719042916), (-7, -31.3148805395))
            ThreePointArc((-7, -31.3148805395), (-6.0030775792, -31.5247360093), (-5, -31.7028623733))
        make_face()
        with BuildLine():
            ThreePointArc((7, -29.1719042916), (6.0034754072, -29.3931672849), (5, -29.5803989155))
            Line((5, -29.5803989155), (5, -31.7383077674))
            ThreePointArc((5, -31.7383077674), (6.0029563169, -31.5675502678), (7, -31.3651067174))
            Line((7, -31.3651067174), (7, -29.1719042916))
        make_face()
        with BuildLine():
            Line((-5, 29.5803989155), (-5, 31.7028623733))
            ThreePointArc((-5, 31.7028623733), (-6.0030775792, 31.5247360093), (-7, 31.3148805395))
            Line((-7, 31.3148805395), (-7, 29.1719042916))
            ThreePointArc((-7, 29.1719042916), (-6.0034754072, 29.3931672849), (-5, 29.5803989155))
        make_face()
        with BuildLine():
            Line((-5, 31.7028623733), (-5, 37.6696164037))
            ThreePointArc((-5, 37.6696164037), (-6.0021318562, 37.5229851315), (-7, 37.349698794))
            Line((-7, 37.349698794), (-7, 31.3148805395))
            ThreePointArc((-7, 31.3148805395), (-6.0030775792, 31.5247360093), (-5, 31.7028623733))
        make_face()
        with BuildLine():
            Line((7, 31.3651067174), (7, 37.349698794))
            ThreePointArc((7, 37.349698794), (6.0021318562, 37.5229851315), (5, 37.6696164037))
            Line((5, 37.6696164037), (5, 31.7383077674))
            ThreePointArc((5, 31.7383077674), (6.0029563169, 31.5675502678), (7, 31.3651067174))
        make_face()
        with BuildLine():
            Line((7, 29.1719042916), (7, 31.3651067174))
            ThreePointArc((7, 31.3651067174), (6.0029563169, 31.5675502678), (5, 31.7383077674))
            Line((5, 31.7383077674), (5, 29.5803989155))
            ThreePointArc((5, 29.5803989155), (6.0034754072, 29.3931672849), (7, 29.1719042916))
        make_face()
        with BuildLine():
            Line((-5, -37.6696164037), (-5, -31.7028623733))
            ThreePointArc((-5, -31.7028623733), (-6.0030775792, -31.5247360093), (-7, -31.3148805395))
            Line((-7, -31.3148805395), (-7, -37.349698794))
            ThreePointArc((-7, -37.349698794), (-6.0021318562, -37.5229851315), (-5, -37.6696164037))
        make_face()
        with BuildLine():
            ThreePointArc((5, -37.6696164037), (6.0021318562, -37.5229851315), (7, -37.349698794))
            Line((7, -37.349698794), (7, -31.3651067174))
            ThreePointArc((7, -31.3651067174), (6.0029563169, -31.5675502678), (5, -31.7383077674))
            Line((5, -31.7383077674), (5, -37.6696164037))
        make_face()
        with BuildLine():
            Line((12, 29.831095656), (12, 36.0555127546))
            ThreePointArc((12, 36.0555127546), (9.5220128847, 36.7876510615), (7, 37.349698794))
            Line((7, 37.349698794), (7, 31.3651067174))
            ThreePointArc((7, 31.3651067174), (9.5312817503, 30.7000618278), (12, 29.831095656))
        make_face()
        with BuildLine():
            Line((-7, 31.3148805395), (-7, 37.349698794))
            ThreePointArc((-7, 37.349698794), (-9.5220128847, 36.7876510615), (-12, 36.0555127546))
            Line((-12, 36.0555127546), (-12, 29.7405009131))
            ThreePointArc((-12, 29.7405009131), (-9.5321787528, 30.6298857504), (-7, 31.3148805395))
        make_face()
        with BuildLine():
            Line((-31.6083544215, 5), (-29.5803989155, 5))
            ThreePointArc((-29.5803989155, 5), (-23.6377612745, 18.473122149), (-12, 27.4954541697))
            Line((-12, 27.4954541697), (-12, 29.7405009131))
            ThreePointArc((-12, 29.7405009131), (-25.0542292215, 19.9461147019), (-31.6083544215, 5))
        make_face()
        with BuildLine():
            ThreePointArc((21.5376813852, 23.9200184868), (17.0290262302, 27.2953734074), (12, 29.831095656))
            Line((12, 29.831095656), (12, 27.4954541697))
            ThreePointArc((12, 27.4954541697), (16.2464439736, 25.2200923514), (20.0739181908, 22.2943447643))
            Line((20.0739181908, 22.2943447643), (21.5376813852, 23.9200184868))
        make_face()
        with BuildLine():
            ThreePointArc((12, -29.831095656), (25.2036279745, -20.0409705651), (31.8332241496, -5))
            Line((31.8332241496, -5), (29.5803989155, -5))
            ThreePointArc((29.5803989155, -5), (23.6377612745, -18.473122149), (12, -27.4954541697))
            Line((12, -27.4954541697), (12, -29.831095656))
        make_face()
        with BuildLine():
            ThreePointArc((7, -37.349698794), (9.5220128847, -36.7876510615), (12, -36.0555127546))
            Line((12, -36.0555127546), (12, -29.831095656))
            ThreePointArc((12, -29.831095656), (9.5312817503, -30.7000618278), (7, -31.3651067174))
            Line((7, -31.3651067174), (7, -37.349698794))
        make_face()
        with BuildLine():
            ThreePointArc((-12, -27.4954541697), (-23.6377612745, -18.473122149), (-29.5803989155, -5))
            Line((-29.5803989155, -5), (-31.6083544215, -5))
            ThreePointArc((-31.6083544215, -5), (-25.0542292215, -19.9461147019), (-12, -29.7405009131))
            Line((-12, -29.7405009131), (-12, -27.4954541697))
        make_face()
        with BuildLine():
            Line((-12, -29.7405009131), (-12, -36.0555127546))
            ThreePointArc((-12, -36.0555127546), (-9.5220128847, -36.7876510615), (-7, -37.349698794))
            Line((-7, -37.349698794), (-7, -31.3148805395))
            ThreePointArc((-7, -31.3148805395), (-9.5321787528, -30.6298857504), (-12, -29.7405009131))
        make_face()
    extrude(amount=F4_DEPTH)

    # F0 (on Top) → F5 (join)
    with BuildSketch(Plane.XY.offset(F5_START)):
        with BuildLine():
            Line((5, 29.5803989155), (5, 31.7383077674))
            ThreePointArc((5, 31.7383077674), (2.5073092321, 32.0230081294), (0, 32.1122380301))
            Line((0, 32.1122380301), (0, 30))
            ThreePointArc((0, 30), (2.5087878084, 29.8949156836), (5, 29.5803989155))
        make_face()
        with BuildLine():
            Line((0, 30), (0, 32.1122380301))
            ThreePointArc((0, 32.1122380301), (-2.5080065159, 32.0053395525), (-5, 31.7028623733))
            Line((-5, 31.7028623733), (-5, 29.5803989155))
            ThreePointArc((-5, 29.5803989155), (-2.5087878084, 29.8949156836), (0, 30))
        make_face()
        with BuildLine():
            ThreePointArc((5, -29.5803989155), (2.5087878084, -29.8949156836), (0, -30))
            Line((0, -30), (0, -32.1122380301))
            ThreePointArc((0, -32.1122380301), (2.5073092321, -32.0230081294), (5, -31.7383077674))
            Line((5, -31.7383077674), (5, -29.5803989155))
        make_face()
        with BuildLine():
            Line((0, -32.1122380301), (0, -30))
            ThreePointArc((0, -30), (-2.5087878084, -29.8949156836), (-5, -29.5803989155))
            Line((-5, -29.5803989155), (-5, -31.7028623733))
            ThreePointArc((-5, -31.7028623733), (-2.5080065159, -32.0053395525), (0, -32.1122380301))
        make_face()
    extrude(amount=F5_DEPTH)

    # F0 (on Top) → F6 (join)
    with BuildSketch(Plane.XY.offset(F6_START)):
        with BuildLine():
            Line((26.7652242544, 29.7257930191), (25.4269630416, 28.2395033681))
            ThreePointArc((25.4269630416, 28.2395033681), (26.1574738764, 27.5642260985), (26.8700576851, 26.8700576851))
            Line((26.8700576851, 26.8700576851), (28.2842712475, 28.2842712475))
            ThreePointArc((28.2842712475, 28.2842712475), (27.5341830278, 29.0149748405), (26.7652242544, 29.7257930191))
        make_face()
        with BuildLine():
            Line((28.2842712475, 28.2842712475), (26.8700576851, 26.8700576851))
            ThreePointArc((26.8700576851, 26.8700576851), (27.5642260985, 26.1574738764), (28.2395033681, 25.4269630416))
            Line((28.2395033681, 25.4269630416), (29.7257930191, 26.7652242544))
            ThreePointArc((29.7257930191, 26.7652242544), (29.0149748405, 27.5341830278), (28.2842712475, 28.2842712475))
        make_face()
    extrude(amount=F6_DEPTH)

    # F7 (on face) → F8 (cut)
    with BuildSketch(Plane.YZ.offset(7).offset(F8_START)):
        Polygon((32.1719042916, 30), (29.1719042916, 30), (32.1719042916, 28.2679491924), align=None)
        Polygon((-32.1719042916, 28.2679491924), (-29.1719042916, 30), (-32.1719042916, 30), align=None)
    extrude(amount=-F8_DEPTH, mode=Mode.SUBTRACT)


solid = f1.part
